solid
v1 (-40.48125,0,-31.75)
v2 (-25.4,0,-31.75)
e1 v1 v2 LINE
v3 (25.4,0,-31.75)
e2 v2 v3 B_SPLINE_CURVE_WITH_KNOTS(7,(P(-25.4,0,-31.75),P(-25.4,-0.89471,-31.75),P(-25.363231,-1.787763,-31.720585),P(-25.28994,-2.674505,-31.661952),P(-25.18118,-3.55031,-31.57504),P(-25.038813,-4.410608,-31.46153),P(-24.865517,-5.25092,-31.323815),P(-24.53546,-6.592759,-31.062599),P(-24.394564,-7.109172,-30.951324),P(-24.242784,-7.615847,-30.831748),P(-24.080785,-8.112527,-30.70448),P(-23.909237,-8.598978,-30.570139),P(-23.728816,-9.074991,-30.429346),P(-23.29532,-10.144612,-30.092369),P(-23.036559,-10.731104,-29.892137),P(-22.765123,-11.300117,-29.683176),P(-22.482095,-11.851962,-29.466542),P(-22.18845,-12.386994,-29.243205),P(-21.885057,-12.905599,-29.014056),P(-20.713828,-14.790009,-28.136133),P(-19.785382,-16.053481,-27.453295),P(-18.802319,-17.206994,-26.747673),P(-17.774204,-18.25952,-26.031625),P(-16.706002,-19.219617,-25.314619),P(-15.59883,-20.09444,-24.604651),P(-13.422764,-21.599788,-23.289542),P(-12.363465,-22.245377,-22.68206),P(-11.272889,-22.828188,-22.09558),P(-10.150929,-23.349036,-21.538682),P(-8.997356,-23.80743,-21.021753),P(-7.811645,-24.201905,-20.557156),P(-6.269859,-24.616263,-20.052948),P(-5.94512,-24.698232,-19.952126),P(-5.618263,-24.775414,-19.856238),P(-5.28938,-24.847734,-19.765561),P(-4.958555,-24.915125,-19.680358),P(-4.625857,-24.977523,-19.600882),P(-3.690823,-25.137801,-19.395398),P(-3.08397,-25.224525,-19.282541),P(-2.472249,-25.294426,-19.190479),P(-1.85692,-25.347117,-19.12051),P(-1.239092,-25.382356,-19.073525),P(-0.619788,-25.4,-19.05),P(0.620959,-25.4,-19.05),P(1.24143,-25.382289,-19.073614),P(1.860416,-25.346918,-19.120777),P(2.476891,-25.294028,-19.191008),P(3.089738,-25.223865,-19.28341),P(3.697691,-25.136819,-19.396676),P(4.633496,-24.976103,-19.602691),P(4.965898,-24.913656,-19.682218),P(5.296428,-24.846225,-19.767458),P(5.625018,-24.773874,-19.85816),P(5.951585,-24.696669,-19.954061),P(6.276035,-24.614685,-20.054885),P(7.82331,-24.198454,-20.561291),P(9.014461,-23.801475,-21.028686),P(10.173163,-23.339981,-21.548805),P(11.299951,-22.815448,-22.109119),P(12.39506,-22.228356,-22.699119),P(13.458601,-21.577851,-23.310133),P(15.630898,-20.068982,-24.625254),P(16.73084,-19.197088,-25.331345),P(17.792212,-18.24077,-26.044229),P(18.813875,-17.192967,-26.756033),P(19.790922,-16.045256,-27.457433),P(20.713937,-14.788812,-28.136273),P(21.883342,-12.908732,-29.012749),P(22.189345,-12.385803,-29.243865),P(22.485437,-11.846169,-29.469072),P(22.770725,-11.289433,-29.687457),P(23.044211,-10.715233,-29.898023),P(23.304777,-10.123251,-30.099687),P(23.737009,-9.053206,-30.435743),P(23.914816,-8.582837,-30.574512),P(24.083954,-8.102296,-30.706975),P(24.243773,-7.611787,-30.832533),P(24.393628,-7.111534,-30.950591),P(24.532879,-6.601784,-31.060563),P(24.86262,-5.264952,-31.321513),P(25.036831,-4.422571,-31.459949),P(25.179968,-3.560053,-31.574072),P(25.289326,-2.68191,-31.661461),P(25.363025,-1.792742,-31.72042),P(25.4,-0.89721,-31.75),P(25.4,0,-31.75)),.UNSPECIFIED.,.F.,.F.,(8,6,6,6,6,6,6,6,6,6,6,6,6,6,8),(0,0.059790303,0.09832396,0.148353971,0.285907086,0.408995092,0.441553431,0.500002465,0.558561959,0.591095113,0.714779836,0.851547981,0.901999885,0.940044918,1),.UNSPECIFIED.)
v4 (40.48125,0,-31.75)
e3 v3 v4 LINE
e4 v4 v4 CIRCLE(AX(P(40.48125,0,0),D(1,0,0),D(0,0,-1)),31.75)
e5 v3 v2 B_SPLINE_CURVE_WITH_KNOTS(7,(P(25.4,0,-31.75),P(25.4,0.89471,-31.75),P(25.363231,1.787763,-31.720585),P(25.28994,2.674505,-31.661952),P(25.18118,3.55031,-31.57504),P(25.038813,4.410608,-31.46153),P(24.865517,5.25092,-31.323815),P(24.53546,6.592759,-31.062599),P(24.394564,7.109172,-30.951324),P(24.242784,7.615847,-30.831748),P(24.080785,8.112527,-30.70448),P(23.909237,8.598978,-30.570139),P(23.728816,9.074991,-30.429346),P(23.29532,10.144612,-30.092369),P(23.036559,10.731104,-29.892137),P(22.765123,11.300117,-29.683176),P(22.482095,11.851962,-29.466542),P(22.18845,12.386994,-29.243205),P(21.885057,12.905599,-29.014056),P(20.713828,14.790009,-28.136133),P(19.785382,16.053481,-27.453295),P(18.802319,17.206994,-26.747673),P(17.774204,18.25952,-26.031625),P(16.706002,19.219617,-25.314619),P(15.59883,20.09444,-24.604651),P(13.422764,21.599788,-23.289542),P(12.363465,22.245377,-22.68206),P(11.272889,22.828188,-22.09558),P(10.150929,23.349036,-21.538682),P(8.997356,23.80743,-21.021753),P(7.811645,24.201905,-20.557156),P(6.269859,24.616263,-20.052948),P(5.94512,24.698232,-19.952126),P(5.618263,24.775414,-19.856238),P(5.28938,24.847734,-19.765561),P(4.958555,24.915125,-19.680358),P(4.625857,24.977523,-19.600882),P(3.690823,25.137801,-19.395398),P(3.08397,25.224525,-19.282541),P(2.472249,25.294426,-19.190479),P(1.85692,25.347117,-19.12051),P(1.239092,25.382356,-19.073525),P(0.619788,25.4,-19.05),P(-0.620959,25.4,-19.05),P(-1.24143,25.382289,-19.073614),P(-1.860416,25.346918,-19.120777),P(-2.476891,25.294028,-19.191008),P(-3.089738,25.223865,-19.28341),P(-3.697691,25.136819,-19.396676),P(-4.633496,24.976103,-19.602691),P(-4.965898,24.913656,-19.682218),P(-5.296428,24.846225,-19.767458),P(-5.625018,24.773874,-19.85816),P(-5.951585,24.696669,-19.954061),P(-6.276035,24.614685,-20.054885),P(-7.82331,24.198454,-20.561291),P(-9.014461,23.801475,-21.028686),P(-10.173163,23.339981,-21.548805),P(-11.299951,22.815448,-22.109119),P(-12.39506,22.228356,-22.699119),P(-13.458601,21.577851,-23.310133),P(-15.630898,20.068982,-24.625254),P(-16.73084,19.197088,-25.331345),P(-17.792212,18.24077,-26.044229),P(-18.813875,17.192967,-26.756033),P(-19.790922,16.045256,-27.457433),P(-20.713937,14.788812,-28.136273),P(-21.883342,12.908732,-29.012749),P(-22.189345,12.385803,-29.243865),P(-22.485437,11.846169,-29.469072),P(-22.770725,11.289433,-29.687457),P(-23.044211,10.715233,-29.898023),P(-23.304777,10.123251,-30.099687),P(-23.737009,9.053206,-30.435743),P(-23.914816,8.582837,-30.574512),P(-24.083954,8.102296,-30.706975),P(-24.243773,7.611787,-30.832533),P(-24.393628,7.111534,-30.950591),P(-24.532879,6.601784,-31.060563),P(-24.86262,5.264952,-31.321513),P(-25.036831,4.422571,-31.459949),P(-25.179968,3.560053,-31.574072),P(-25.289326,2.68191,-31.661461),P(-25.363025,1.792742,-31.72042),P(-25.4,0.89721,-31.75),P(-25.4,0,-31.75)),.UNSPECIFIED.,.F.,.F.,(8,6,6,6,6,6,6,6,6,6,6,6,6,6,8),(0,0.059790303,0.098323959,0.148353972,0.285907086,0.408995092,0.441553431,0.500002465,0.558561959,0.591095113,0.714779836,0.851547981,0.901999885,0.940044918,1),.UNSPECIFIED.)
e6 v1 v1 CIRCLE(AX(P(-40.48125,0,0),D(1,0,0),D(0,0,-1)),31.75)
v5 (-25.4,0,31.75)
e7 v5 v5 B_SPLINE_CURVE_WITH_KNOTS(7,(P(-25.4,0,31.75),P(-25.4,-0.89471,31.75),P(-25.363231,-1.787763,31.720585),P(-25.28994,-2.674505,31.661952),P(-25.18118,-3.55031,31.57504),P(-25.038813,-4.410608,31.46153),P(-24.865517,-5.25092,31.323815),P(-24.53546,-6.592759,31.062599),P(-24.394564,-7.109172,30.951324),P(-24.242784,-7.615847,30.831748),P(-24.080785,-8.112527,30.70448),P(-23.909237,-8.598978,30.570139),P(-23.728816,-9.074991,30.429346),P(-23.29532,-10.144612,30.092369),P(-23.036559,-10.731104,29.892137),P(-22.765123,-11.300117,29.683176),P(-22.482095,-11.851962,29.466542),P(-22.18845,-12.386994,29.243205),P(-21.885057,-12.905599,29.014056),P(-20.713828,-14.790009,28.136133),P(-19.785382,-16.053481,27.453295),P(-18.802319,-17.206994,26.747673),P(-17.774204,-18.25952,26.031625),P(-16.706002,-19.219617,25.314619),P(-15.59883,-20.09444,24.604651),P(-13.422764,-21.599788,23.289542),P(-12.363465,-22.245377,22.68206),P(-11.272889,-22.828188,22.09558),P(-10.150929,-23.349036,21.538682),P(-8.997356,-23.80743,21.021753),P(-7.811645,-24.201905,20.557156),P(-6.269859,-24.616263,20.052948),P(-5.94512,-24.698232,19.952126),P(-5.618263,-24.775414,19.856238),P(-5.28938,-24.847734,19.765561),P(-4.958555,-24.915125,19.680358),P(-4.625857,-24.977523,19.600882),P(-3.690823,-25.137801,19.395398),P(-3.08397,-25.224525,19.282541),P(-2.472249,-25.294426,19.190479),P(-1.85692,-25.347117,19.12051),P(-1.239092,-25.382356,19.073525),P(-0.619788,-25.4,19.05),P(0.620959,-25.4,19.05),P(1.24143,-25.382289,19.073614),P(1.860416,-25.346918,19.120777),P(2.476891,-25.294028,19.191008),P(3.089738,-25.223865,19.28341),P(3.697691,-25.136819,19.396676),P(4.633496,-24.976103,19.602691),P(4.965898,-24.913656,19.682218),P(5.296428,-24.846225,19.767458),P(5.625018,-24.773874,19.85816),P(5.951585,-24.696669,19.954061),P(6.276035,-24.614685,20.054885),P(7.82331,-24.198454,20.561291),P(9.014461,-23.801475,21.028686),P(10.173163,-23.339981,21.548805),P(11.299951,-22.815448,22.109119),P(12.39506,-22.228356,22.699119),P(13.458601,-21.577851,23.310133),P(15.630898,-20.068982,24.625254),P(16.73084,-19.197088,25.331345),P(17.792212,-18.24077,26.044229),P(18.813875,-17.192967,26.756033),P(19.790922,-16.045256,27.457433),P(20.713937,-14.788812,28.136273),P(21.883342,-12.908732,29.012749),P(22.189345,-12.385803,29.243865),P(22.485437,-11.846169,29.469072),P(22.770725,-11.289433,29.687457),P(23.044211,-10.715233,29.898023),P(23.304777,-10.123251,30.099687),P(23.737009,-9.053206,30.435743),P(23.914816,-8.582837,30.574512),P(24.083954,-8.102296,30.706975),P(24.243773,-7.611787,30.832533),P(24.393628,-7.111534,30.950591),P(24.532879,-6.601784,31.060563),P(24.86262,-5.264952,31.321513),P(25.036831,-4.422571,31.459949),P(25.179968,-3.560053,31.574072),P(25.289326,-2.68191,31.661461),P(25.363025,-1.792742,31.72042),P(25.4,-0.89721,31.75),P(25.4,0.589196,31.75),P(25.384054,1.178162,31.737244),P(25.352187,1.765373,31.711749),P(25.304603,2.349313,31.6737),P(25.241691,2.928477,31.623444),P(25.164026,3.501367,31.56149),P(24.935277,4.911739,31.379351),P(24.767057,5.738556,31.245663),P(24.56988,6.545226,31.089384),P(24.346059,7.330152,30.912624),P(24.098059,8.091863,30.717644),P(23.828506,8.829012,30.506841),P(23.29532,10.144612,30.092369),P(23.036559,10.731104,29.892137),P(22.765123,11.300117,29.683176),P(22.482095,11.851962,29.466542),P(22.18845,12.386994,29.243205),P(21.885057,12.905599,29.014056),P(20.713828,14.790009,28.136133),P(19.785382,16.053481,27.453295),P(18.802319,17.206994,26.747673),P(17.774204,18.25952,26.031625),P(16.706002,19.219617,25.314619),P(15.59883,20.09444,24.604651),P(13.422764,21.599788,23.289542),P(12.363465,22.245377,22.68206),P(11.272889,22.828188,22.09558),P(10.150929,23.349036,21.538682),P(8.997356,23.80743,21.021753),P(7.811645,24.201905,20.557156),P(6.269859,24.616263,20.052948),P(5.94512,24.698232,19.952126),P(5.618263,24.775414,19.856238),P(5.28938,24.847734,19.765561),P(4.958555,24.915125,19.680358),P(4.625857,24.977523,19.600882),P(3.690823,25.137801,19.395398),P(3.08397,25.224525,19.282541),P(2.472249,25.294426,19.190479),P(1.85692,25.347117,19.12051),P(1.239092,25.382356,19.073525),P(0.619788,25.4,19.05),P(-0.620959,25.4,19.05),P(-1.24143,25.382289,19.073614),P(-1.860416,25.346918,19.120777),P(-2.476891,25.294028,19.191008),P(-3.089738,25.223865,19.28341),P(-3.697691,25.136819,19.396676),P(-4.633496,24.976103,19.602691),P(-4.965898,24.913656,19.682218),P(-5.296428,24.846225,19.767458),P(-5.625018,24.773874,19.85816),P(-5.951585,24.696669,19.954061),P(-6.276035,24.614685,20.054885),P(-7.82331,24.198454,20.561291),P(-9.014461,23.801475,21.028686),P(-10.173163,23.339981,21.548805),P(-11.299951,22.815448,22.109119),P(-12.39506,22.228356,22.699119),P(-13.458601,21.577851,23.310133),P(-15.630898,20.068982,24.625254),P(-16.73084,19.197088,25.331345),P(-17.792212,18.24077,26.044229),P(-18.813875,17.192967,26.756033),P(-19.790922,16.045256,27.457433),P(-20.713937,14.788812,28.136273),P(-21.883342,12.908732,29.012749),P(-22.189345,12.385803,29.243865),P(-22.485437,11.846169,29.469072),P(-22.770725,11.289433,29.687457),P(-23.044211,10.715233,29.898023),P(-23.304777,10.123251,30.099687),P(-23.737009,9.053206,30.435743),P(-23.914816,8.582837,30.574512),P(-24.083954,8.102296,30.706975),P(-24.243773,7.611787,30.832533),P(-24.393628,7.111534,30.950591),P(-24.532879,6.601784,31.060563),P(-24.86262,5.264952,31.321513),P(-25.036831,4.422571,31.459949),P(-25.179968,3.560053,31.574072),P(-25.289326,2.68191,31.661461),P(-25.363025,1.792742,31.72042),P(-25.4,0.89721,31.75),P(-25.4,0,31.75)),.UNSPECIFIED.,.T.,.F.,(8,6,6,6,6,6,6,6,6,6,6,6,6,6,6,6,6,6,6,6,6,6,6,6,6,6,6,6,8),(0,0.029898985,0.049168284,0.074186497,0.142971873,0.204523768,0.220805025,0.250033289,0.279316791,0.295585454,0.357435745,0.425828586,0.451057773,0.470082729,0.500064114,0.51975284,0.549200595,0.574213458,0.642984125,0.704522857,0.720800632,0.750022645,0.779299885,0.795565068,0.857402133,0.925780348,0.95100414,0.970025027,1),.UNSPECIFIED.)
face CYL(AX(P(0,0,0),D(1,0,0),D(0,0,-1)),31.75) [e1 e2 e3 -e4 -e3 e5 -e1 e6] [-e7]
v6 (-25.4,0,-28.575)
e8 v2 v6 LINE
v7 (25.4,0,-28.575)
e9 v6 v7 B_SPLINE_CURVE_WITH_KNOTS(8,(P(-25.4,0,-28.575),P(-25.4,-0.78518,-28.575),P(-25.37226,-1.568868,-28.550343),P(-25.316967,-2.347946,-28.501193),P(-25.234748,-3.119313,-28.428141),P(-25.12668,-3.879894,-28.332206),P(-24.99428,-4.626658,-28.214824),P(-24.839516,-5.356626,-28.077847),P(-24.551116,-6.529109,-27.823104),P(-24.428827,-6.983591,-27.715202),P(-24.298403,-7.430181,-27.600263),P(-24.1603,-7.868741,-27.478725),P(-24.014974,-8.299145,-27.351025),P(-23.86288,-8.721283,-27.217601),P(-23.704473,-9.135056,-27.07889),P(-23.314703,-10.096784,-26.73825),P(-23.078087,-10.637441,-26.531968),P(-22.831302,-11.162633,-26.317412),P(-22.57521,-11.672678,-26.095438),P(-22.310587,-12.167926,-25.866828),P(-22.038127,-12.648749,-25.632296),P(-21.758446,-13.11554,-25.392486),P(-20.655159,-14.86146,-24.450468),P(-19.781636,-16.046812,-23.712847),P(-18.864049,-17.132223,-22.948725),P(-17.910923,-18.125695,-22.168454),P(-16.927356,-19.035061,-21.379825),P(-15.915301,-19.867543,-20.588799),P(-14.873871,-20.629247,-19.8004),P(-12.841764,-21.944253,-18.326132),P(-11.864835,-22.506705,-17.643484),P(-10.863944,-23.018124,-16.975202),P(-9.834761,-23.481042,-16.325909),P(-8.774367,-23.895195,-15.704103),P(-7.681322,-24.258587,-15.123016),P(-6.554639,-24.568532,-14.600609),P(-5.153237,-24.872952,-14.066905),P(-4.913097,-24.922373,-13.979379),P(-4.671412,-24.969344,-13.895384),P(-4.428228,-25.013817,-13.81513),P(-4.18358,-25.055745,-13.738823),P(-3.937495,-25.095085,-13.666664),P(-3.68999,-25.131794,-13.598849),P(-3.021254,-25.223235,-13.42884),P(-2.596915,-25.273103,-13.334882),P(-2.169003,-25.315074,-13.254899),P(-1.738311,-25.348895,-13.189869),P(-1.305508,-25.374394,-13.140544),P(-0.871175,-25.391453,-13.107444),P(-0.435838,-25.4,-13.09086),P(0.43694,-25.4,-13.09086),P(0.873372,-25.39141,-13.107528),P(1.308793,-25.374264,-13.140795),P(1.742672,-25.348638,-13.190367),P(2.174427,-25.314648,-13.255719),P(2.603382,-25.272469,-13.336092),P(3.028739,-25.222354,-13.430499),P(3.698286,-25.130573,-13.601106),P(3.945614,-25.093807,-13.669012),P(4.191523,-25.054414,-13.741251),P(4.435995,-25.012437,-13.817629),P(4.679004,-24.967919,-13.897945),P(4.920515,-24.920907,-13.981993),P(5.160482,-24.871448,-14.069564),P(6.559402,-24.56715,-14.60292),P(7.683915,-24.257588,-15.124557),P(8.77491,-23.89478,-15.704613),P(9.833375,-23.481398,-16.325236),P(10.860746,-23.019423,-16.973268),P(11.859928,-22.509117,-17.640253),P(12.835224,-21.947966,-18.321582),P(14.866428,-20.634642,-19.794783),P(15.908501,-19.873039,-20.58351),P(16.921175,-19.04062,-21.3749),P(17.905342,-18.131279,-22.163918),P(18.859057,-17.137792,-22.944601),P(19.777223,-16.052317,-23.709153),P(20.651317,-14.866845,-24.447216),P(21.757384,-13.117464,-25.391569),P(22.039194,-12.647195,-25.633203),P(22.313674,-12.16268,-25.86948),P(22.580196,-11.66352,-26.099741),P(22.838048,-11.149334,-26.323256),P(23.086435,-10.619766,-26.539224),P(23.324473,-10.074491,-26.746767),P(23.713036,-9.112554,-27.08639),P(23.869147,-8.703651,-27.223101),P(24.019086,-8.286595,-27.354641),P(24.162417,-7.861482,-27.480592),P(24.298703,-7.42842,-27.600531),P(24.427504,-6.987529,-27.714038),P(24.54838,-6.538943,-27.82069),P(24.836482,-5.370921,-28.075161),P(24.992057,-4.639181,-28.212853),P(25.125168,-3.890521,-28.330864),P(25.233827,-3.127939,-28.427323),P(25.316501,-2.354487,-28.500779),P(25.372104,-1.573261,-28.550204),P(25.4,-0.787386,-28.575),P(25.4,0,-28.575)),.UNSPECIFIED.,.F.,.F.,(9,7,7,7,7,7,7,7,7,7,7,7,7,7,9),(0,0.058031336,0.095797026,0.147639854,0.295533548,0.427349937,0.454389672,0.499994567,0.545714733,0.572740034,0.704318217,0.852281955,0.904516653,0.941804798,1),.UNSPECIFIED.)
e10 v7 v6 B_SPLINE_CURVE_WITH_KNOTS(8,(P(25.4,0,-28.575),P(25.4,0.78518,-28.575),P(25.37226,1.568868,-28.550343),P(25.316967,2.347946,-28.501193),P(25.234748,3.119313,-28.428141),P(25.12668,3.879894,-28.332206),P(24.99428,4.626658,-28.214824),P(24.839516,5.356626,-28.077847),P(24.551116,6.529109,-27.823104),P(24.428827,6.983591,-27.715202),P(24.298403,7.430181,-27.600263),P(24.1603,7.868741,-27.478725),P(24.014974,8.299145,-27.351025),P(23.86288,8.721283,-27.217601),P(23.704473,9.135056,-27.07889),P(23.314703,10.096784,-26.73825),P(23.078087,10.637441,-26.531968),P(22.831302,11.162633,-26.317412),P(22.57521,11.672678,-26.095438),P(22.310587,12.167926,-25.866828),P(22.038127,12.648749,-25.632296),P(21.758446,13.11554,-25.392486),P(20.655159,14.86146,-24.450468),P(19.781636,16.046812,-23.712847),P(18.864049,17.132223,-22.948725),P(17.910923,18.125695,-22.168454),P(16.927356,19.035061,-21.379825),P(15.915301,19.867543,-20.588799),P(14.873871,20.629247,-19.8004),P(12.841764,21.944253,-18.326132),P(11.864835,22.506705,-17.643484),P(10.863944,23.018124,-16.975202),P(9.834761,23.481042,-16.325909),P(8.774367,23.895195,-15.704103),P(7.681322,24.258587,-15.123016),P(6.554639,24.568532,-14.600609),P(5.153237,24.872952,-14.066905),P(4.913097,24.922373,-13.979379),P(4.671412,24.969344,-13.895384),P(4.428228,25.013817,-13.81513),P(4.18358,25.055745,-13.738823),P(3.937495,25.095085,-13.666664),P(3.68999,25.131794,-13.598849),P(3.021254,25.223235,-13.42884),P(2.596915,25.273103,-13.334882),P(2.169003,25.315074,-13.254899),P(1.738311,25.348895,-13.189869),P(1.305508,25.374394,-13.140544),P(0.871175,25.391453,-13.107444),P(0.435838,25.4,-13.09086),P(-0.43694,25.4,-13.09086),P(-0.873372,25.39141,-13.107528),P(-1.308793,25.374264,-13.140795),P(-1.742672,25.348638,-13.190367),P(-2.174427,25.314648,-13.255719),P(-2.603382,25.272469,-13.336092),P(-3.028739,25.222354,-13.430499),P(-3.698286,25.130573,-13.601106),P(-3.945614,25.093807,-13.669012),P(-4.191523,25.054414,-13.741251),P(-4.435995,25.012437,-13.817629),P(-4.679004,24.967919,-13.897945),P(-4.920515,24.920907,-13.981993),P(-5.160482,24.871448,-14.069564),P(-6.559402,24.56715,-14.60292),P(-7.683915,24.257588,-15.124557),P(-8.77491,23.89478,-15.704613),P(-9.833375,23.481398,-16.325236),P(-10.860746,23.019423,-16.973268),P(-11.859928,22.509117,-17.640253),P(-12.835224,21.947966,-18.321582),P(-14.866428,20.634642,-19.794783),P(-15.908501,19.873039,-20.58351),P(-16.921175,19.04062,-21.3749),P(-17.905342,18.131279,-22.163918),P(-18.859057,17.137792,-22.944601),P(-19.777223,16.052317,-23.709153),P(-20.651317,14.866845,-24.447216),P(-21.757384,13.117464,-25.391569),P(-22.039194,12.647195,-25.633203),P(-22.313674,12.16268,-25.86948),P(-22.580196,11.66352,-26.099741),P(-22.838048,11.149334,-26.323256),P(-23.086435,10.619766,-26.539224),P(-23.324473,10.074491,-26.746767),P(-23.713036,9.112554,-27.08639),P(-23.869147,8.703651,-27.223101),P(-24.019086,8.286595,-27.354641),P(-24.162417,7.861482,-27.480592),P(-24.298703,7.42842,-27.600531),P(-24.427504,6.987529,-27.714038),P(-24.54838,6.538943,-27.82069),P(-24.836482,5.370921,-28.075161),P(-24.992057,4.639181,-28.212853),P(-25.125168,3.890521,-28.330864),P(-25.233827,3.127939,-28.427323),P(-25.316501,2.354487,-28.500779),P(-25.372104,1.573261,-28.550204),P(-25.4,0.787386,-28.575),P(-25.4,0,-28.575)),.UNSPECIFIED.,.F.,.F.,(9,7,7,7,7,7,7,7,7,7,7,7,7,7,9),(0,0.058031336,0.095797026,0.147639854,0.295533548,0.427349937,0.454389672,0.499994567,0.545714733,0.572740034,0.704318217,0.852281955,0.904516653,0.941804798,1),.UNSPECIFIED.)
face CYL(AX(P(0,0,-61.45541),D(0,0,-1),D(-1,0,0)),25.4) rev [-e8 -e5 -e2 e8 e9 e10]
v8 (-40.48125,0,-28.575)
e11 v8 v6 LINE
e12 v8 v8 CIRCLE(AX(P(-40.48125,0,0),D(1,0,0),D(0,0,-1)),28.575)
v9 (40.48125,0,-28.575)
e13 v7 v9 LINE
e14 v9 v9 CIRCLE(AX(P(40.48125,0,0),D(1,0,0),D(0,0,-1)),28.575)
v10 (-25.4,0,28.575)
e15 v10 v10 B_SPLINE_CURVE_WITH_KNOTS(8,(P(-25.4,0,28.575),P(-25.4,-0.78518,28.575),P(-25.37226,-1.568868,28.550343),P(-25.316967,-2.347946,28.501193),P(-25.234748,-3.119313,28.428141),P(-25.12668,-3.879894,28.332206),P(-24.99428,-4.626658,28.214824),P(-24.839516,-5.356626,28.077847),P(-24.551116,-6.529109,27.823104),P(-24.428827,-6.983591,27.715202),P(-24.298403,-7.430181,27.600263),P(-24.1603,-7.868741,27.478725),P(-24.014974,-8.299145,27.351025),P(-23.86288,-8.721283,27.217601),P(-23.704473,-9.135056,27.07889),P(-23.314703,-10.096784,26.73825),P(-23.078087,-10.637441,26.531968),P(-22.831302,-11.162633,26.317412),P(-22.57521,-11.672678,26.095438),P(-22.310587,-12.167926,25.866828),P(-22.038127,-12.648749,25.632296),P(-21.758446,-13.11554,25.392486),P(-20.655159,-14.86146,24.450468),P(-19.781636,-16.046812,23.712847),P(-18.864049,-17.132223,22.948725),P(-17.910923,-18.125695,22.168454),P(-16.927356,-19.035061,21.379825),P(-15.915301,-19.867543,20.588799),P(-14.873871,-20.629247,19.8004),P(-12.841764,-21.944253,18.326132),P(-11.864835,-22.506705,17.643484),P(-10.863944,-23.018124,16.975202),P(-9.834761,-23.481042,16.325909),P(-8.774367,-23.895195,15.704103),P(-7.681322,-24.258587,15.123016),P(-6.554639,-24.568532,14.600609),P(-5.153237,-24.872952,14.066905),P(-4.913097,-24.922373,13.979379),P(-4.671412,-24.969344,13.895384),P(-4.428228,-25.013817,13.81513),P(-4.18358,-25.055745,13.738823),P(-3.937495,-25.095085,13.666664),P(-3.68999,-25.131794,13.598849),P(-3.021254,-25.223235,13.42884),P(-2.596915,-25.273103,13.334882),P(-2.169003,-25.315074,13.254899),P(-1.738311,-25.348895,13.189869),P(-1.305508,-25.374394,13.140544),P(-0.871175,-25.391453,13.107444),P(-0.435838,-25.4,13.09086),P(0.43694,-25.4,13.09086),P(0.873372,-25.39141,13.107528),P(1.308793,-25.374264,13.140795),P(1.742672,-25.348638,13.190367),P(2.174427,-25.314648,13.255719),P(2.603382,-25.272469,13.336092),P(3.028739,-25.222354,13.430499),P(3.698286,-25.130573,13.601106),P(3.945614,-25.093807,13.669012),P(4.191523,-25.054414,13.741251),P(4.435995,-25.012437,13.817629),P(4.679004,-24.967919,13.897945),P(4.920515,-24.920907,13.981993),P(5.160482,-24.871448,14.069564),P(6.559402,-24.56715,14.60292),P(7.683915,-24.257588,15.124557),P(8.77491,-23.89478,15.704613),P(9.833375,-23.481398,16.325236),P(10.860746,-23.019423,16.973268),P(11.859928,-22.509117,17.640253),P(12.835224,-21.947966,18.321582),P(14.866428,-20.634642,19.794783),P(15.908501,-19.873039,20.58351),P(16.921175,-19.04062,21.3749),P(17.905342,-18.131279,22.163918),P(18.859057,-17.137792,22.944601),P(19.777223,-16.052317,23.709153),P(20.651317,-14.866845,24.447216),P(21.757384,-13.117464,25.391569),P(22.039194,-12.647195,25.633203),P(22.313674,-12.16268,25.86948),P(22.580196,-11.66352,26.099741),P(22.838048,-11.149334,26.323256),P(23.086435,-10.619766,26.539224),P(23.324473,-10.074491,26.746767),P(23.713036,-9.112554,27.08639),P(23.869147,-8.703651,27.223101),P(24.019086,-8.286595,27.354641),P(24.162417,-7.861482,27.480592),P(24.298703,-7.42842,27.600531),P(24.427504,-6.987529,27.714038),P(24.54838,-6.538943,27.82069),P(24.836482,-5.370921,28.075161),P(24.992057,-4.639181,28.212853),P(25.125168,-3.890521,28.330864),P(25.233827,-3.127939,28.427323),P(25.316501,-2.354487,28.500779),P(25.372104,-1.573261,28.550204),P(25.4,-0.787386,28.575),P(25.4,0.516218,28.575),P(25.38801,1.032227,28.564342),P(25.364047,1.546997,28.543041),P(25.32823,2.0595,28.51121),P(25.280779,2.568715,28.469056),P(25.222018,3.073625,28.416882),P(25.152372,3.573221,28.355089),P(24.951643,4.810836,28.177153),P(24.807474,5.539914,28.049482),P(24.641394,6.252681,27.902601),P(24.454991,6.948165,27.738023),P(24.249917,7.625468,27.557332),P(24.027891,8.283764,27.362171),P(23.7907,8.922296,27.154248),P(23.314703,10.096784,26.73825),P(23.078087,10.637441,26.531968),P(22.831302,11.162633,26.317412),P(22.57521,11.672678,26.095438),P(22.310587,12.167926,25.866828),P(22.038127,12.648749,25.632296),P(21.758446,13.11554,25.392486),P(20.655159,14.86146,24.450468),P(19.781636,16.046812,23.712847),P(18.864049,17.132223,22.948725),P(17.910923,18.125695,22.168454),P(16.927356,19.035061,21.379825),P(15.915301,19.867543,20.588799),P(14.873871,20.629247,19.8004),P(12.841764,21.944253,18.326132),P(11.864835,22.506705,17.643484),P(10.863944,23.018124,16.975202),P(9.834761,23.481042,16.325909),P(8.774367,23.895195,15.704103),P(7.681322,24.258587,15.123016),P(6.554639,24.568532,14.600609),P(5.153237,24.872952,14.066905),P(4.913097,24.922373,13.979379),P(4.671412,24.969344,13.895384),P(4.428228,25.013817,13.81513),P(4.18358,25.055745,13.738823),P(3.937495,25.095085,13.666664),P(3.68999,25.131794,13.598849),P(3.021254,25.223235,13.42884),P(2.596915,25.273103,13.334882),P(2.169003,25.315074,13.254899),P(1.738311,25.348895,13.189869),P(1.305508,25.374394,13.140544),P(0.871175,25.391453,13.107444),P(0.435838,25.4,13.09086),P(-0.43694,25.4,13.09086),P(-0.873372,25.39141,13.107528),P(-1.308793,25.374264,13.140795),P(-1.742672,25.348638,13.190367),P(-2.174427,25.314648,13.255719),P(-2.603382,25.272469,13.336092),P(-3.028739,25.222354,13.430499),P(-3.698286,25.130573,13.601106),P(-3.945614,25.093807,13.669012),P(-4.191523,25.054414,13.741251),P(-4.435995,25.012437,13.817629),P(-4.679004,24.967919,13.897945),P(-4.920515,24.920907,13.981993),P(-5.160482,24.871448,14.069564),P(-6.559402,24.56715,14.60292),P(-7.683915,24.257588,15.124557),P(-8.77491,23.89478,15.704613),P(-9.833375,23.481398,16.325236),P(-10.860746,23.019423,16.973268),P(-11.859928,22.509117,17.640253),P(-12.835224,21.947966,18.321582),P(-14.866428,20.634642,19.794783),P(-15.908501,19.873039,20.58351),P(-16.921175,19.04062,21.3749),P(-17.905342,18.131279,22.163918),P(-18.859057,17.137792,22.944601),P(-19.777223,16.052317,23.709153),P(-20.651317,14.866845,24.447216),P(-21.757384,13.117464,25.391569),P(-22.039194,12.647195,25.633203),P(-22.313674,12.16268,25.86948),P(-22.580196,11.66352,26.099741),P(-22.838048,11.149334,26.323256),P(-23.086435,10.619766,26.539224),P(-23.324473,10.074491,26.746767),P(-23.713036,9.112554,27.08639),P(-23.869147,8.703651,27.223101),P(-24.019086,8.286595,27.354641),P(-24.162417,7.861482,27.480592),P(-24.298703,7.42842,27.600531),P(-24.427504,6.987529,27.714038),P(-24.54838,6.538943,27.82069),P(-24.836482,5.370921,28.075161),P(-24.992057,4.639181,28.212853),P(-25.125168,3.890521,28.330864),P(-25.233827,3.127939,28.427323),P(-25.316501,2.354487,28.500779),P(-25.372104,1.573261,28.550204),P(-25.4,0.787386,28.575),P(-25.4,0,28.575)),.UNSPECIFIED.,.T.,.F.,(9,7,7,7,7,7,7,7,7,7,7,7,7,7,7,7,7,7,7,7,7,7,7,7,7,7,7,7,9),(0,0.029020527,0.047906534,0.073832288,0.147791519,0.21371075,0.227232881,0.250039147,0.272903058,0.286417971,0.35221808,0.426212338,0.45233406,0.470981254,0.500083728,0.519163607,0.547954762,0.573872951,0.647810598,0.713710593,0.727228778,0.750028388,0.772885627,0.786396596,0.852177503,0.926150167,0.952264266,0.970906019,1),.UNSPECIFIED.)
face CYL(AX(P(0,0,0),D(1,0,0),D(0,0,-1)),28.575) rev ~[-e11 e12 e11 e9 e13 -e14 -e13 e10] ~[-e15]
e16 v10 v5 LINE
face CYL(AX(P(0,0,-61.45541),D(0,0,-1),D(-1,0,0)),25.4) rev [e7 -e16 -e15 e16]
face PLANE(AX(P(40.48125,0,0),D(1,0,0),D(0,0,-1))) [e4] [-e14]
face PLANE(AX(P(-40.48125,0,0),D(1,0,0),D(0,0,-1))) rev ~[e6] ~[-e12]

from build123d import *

# Parameters (mm, degrees)
SKETCH1_R               = 31.75
BOSS_EXTRUDE1_DEPTH     = 40.48125
SHELL1_T                = -3.175
CUT_EXTRUDE1_DEPTH      = 61.455410027
CUT_EXTRUDE1_DEPTH_BACK = 61.455410027
SKETCH2_R               = 25.4


with BuildPart() as part:
    # Sketch1 → Boss-Extrude1 (new, symmetric)
    with BuildSketch(Plane(origin=(0, 0, 0), x_dir=(0, 0, -1), z_dir=(1, 0, 0))):
        Circle(SKETCH1_R)
    extrude(amount=BOSS_EXTRUDE1_DEPTH, both=True)

    # Shell1
    shell1_openings = [part.faces().sort_by_distance(p)[0] for p in [
        (40.48125, 0, 0),
        (-40.48125, 0, 0),
    ]]
    offset(amount=SHELL1_T, openings=shell1_openings, kind=Kind.INTERSECTION)

    # Sketch2 → Cut-Extrude1 (cut, two sides: drawn at the far end of the back side and taken through both)
    with BuildSketch(Plane.XY.offset(-CUT_EXTRUDE1_DEPTH_BACK)):
        with Locations(Location((0, 0, 0), (0, 0, 180))):
            Circle(SKETCH2_R)
    extrude(amount=CUT_EXTRUDE1_DEPTH + CUT_EXTRUDE1_DEPTH_BACK, mode=Mode.SUBTRACT)


solid = part.part
